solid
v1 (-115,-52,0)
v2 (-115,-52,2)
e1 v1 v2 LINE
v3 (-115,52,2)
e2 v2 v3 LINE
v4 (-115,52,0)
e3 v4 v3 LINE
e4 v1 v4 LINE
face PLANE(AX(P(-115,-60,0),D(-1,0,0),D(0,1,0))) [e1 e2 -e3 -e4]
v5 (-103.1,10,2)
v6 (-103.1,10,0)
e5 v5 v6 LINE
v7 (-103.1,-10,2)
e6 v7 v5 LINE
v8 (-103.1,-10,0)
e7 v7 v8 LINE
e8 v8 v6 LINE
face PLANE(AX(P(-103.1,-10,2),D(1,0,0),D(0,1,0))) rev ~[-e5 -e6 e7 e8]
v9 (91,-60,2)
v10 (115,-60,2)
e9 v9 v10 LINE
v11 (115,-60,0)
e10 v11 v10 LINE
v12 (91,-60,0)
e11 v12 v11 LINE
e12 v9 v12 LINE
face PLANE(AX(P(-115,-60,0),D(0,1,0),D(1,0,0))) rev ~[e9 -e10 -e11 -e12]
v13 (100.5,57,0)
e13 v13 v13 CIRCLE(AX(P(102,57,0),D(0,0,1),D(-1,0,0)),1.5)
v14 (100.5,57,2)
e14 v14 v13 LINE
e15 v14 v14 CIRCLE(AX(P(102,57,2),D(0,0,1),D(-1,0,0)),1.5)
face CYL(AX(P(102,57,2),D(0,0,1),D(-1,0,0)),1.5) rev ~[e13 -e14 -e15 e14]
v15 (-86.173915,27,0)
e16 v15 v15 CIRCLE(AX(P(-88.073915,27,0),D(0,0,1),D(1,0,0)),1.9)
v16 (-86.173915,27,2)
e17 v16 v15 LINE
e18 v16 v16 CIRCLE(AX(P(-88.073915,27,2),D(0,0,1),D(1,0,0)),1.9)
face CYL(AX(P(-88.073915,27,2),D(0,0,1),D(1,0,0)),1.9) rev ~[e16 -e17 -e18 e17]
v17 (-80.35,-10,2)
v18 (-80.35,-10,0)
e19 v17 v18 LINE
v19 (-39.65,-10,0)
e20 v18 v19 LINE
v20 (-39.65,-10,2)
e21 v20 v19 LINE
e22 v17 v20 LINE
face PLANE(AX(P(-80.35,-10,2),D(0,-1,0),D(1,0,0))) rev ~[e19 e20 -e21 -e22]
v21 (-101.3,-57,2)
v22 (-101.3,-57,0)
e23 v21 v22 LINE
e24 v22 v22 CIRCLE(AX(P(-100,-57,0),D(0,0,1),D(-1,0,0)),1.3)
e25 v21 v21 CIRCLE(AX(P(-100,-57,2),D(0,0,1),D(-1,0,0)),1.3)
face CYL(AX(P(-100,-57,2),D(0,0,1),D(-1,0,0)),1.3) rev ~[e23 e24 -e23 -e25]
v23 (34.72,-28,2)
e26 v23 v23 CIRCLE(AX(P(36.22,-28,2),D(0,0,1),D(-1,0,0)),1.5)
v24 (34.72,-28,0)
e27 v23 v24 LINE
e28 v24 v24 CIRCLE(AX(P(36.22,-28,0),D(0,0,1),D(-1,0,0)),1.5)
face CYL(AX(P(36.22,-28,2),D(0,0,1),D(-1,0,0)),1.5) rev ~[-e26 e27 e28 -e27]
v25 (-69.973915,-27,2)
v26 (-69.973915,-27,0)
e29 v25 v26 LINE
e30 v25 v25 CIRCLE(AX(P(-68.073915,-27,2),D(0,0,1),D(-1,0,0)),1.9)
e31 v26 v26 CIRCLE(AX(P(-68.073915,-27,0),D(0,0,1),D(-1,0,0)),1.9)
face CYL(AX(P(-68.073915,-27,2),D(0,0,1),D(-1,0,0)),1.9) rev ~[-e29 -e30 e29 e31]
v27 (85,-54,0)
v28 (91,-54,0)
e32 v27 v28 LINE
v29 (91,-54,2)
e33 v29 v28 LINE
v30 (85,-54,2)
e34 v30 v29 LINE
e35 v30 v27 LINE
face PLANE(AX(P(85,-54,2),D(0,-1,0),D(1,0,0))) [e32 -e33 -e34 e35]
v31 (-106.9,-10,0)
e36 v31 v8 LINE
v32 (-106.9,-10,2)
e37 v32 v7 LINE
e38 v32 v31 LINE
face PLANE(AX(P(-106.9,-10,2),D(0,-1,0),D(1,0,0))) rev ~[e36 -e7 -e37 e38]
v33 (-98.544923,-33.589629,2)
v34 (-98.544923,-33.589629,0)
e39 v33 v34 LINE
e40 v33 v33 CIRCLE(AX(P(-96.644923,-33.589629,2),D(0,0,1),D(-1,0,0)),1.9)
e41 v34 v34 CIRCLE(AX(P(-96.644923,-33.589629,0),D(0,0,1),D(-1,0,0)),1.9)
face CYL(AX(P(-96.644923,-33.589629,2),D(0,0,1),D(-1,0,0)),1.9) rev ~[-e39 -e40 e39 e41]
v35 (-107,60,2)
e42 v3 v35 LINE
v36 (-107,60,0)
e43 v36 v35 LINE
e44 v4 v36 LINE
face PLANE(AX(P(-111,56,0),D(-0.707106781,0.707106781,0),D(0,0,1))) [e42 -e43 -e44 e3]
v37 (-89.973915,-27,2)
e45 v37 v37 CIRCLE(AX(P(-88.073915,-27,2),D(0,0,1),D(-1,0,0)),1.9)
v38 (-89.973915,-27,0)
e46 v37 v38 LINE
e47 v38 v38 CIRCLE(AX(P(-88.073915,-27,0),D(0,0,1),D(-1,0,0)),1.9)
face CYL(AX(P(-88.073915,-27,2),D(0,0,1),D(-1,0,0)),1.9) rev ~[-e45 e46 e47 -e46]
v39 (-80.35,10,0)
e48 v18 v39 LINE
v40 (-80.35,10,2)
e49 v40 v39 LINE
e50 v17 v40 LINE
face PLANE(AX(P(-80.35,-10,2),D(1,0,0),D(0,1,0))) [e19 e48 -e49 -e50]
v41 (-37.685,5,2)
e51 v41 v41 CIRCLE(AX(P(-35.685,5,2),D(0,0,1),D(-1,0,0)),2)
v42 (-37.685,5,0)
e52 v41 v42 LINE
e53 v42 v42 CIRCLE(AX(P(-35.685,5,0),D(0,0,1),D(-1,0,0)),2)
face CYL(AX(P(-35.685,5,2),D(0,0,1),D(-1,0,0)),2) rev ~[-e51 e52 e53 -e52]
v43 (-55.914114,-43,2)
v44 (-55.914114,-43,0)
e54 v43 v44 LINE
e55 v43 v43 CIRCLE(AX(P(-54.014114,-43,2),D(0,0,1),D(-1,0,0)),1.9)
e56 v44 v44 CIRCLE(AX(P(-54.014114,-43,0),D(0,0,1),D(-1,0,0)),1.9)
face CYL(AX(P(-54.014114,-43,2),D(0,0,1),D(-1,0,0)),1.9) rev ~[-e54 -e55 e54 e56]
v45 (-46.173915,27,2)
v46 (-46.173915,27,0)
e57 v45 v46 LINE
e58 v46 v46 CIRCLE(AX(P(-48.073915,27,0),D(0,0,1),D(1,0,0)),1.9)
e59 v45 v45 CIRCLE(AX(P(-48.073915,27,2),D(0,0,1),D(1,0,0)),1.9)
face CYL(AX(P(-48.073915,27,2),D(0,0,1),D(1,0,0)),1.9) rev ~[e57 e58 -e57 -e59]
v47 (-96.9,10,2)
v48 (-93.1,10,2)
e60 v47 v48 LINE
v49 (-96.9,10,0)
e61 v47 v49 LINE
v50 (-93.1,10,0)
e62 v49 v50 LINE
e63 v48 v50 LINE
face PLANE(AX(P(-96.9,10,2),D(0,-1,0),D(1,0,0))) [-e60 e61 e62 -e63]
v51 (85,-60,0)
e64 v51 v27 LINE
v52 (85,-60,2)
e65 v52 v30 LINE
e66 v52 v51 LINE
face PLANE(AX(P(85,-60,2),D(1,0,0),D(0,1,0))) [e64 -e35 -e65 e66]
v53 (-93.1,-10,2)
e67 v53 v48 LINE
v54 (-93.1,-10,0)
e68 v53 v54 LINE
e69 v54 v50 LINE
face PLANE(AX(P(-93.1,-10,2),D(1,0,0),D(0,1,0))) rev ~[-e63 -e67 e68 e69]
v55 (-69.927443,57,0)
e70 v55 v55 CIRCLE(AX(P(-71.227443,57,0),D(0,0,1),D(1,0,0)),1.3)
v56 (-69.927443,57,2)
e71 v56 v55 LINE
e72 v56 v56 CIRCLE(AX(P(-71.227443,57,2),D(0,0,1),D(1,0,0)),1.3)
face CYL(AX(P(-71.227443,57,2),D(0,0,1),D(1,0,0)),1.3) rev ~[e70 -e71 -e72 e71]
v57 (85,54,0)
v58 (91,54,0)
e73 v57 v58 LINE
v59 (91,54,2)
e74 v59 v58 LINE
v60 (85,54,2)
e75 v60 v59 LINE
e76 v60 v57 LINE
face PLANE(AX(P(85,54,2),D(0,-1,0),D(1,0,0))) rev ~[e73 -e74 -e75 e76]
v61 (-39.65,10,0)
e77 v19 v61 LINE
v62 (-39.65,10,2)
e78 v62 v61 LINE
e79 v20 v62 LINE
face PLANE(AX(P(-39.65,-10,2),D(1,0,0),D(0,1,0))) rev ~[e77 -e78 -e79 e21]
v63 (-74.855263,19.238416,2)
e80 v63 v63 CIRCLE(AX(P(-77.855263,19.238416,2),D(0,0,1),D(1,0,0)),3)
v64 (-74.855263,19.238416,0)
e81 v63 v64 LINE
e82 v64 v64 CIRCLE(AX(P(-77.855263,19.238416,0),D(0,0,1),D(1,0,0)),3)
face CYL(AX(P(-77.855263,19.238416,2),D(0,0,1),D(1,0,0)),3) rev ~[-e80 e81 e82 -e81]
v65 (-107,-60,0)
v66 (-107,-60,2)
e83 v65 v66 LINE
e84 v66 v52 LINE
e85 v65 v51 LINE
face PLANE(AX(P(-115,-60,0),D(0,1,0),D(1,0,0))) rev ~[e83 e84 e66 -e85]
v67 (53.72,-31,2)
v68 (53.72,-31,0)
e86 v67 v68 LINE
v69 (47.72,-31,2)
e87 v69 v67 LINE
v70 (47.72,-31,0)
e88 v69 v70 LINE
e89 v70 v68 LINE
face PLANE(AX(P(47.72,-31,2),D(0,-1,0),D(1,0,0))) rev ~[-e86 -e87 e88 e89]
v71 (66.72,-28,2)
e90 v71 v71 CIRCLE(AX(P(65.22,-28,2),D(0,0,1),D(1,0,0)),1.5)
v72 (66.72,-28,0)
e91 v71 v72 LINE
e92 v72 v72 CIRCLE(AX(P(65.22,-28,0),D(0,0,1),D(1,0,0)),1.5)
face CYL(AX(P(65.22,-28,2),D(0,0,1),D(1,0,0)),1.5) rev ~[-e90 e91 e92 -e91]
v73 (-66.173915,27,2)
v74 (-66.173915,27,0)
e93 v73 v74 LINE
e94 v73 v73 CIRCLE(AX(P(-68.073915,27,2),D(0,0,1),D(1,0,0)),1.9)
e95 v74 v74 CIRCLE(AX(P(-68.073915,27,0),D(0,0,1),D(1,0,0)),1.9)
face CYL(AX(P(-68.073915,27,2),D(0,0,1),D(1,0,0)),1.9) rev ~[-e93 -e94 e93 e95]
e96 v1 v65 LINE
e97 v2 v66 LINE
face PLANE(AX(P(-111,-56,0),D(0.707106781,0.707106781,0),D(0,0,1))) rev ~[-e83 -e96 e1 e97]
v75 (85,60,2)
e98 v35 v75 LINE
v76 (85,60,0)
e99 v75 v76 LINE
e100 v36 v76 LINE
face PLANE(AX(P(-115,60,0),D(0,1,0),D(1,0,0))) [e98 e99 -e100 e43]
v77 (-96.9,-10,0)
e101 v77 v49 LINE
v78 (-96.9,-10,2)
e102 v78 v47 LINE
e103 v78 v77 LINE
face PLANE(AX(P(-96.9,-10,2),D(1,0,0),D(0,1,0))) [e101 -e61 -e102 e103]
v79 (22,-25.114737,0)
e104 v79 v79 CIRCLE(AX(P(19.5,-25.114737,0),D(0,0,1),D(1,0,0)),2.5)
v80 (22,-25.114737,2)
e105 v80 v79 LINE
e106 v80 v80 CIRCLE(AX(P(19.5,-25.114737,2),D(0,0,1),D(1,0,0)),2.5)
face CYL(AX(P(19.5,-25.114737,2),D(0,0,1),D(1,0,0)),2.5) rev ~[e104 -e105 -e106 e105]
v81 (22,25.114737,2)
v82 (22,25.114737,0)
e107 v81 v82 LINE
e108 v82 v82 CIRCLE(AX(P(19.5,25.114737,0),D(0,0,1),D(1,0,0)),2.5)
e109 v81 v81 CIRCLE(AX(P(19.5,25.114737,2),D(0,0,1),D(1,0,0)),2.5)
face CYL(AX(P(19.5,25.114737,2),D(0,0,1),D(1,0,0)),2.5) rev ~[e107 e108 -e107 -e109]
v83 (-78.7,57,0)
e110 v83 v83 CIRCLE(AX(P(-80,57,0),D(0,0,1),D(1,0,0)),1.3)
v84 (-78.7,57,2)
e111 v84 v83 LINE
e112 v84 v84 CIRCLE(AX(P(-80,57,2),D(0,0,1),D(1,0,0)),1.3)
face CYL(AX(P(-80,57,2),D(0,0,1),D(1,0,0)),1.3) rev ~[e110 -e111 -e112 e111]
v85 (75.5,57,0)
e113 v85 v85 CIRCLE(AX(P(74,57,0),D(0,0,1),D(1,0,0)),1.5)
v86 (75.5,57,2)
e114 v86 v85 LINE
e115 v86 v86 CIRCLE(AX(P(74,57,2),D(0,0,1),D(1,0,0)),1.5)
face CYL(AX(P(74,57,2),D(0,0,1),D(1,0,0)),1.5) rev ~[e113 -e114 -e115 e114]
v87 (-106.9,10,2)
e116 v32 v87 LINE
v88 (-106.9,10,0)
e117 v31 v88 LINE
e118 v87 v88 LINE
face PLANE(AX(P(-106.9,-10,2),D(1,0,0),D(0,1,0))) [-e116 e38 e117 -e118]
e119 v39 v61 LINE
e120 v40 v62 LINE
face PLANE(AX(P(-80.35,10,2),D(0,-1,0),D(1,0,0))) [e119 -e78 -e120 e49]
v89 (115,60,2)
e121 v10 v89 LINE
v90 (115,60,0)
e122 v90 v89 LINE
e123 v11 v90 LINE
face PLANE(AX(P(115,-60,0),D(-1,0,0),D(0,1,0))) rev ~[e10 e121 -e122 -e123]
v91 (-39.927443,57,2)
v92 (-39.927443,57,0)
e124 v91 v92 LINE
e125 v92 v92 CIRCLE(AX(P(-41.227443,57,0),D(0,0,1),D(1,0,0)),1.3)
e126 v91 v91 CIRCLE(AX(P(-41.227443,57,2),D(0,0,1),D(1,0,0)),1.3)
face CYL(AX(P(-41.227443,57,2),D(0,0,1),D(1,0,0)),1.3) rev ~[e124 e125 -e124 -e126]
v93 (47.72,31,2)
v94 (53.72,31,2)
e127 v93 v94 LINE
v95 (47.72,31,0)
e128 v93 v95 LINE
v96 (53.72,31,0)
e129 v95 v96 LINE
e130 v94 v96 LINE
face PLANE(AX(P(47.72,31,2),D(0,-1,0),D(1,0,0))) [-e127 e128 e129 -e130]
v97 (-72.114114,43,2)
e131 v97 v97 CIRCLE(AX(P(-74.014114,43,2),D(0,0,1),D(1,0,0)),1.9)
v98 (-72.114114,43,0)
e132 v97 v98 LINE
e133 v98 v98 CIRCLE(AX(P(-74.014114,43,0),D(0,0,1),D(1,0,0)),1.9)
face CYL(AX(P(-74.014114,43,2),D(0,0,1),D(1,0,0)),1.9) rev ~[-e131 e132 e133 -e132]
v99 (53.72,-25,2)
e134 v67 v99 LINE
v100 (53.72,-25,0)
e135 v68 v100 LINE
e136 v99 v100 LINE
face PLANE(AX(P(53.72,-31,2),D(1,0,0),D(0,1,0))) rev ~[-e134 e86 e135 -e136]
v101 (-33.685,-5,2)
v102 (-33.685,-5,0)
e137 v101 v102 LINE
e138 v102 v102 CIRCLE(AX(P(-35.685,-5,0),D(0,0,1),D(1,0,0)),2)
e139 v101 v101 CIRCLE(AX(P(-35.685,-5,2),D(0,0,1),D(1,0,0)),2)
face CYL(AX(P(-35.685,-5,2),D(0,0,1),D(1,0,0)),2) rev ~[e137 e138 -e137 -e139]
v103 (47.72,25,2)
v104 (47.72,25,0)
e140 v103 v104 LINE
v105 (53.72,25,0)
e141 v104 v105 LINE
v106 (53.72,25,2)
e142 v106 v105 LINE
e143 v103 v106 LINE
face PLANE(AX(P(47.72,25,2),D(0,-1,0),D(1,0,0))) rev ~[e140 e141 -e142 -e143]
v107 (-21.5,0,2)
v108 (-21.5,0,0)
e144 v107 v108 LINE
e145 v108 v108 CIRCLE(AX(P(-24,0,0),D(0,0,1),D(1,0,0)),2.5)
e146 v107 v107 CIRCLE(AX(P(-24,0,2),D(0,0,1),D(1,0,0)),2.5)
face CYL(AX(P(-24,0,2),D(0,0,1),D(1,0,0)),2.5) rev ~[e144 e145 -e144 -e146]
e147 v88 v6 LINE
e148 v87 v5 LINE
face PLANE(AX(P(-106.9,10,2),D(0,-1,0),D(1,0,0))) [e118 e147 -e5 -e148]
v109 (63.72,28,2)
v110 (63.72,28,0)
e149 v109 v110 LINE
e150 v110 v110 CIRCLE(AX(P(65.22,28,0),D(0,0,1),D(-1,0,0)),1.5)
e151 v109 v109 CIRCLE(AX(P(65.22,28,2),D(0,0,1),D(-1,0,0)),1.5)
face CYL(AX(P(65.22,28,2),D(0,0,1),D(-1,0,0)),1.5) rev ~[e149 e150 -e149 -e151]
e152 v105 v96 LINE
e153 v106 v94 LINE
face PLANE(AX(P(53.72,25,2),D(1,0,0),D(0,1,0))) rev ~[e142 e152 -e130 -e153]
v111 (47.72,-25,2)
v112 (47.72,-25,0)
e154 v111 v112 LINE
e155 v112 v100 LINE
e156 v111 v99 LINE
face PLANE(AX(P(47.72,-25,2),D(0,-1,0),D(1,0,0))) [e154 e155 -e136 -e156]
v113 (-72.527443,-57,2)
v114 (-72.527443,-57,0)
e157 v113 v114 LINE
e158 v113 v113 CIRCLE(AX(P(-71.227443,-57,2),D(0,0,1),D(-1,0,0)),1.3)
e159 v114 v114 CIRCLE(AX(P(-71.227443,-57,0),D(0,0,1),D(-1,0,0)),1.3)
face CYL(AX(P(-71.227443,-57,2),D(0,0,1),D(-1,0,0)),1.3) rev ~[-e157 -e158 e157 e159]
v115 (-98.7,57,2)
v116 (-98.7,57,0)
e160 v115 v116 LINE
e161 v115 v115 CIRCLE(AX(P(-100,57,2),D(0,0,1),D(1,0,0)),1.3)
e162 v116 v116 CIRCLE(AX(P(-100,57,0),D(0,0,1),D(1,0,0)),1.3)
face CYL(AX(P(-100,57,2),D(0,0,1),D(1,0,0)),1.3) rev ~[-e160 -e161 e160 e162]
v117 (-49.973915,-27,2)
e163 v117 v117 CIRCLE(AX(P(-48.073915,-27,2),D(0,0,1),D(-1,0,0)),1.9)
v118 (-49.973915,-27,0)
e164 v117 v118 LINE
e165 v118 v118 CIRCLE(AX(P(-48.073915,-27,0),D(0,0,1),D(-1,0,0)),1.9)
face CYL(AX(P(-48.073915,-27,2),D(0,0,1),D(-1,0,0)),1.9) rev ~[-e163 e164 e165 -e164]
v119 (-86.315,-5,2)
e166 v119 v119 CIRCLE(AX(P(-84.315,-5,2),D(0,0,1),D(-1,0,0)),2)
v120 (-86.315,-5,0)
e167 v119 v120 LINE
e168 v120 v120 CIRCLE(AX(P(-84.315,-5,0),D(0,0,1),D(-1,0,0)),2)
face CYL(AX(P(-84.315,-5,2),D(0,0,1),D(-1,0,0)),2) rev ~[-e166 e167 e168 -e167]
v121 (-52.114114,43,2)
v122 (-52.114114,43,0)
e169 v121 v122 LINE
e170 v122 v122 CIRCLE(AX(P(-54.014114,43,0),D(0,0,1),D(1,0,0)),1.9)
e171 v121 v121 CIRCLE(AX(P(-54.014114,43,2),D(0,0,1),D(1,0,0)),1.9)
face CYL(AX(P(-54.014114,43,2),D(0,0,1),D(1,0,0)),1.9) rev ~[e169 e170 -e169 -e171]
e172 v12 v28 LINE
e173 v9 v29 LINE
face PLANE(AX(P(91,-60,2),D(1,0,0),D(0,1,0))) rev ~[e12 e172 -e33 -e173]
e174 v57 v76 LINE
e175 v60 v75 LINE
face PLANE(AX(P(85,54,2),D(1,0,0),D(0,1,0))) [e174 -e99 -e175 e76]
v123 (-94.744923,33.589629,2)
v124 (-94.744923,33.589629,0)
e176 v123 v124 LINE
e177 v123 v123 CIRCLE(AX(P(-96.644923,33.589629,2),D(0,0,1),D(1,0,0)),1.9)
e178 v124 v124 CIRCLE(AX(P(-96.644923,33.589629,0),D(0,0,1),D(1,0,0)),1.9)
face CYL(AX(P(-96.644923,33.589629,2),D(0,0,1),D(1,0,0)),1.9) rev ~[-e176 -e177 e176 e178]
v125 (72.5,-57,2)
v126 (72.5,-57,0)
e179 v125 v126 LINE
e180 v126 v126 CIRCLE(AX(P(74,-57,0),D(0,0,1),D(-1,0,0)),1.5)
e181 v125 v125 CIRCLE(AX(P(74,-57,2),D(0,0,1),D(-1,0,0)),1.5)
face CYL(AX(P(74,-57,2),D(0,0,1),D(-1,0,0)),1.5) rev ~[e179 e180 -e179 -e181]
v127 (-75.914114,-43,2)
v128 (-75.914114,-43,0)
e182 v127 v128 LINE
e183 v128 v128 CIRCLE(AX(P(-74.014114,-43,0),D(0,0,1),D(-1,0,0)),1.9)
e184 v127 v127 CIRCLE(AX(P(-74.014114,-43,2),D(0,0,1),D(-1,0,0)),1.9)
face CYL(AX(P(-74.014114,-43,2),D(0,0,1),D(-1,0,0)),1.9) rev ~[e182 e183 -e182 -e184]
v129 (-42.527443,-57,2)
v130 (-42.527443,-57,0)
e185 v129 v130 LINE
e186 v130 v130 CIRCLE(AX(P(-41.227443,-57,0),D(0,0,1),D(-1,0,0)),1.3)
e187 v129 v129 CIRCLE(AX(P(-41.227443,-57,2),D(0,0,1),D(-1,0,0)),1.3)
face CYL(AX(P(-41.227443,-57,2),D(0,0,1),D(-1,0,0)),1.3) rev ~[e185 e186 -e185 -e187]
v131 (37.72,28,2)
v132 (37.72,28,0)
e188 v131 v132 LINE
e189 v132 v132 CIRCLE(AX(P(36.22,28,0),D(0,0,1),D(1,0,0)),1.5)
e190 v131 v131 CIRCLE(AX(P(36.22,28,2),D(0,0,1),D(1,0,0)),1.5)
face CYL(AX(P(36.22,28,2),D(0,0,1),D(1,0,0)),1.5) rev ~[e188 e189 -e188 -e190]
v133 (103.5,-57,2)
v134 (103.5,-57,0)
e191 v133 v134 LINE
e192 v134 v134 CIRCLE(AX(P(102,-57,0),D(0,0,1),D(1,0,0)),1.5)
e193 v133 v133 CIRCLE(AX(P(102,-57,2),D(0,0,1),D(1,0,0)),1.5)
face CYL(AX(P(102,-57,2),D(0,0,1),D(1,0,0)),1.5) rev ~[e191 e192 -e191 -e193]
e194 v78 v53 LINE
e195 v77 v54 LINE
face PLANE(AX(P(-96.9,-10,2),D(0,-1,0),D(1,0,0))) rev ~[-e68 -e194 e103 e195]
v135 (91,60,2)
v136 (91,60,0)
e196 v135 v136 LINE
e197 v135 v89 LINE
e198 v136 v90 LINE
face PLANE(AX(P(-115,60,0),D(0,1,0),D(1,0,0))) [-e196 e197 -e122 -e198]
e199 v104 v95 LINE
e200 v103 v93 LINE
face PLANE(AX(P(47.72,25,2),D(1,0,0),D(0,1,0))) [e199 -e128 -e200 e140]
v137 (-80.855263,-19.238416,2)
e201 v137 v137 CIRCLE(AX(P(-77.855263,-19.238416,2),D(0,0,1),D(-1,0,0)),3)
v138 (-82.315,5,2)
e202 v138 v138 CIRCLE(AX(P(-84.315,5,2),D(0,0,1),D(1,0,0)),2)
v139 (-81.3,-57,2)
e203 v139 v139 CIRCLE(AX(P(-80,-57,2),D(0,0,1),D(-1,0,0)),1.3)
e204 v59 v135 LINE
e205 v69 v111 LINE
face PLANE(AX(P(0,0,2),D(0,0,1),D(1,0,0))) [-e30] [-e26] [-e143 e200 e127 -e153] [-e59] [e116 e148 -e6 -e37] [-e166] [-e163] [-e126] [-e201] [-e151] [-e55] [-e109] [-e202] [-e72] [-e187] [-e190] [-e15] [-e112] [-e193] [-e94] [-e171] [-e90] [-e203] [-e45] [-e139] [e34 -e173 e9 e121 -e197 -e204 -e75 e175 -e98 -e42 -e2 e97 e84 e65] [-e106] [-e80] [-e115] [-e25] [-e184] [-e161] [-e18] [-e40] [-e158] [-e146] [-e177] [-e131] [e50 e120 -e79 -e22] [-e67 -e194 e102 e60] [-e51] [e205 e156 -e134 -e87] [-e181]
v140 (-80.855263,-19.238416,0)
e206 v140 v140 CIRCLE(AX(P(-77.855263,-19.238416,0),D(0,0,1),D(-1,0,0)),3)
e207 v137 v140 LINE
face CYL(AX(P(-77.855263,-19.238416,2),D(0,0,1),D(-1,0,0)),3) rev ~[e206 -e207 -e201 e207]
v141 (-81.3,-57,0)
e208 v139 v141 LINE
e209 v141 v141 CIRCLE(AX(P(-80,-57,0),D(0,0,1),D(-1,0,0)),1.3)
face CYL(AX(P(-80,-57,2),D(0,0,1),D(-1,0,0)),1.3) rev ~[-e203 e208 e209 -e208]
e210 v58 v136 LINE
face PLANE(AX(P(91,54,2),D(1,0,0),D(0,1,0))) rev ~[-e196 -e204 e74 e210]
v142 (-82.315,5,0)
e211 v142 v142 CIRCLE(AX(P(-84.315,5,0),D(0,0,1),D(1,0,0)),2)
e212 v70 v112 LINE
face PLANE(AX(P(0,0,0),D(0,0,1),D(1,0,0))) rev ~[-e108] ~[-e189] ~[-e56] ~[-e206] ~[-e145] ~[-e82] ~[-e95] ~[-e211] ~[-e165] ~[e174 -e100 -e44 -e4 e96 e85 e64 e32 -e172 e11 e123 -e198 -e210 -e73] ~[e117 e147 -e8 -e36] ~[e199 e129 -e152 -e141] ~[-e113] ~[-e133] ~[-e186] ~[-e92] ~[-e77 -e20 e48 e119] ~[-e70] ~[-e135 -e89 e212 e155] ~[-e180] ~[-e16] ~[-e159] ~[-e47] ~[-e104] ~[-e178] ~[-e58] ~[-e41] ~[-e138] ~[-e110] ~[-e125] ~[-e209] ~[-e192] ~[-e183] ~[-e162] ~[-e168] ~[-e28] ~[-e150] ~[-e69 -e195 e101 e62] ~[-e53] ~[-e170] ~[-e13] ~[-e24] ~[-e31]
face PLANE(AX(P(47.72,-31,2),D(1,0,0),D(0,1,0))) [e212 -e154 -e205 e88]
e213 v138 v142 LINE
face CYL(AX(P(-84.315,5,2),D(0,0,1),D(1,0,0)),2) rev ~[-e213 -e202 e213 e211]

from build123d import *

# Parameters (mm, degrees)
SKETCH_5_W           = 230
SKETCH_5_H           = 120
EXTRUDE_2_DEPTH      = 2
SKETCH_6_R           = 2.5
CUT_EXTRUDE_3_DEPTH  = 130.726635661
SKETCH_7_R           = 1.5
SKETCH_7_W           = 6
SKETCH_7_H           = 6
CUT_EXTRUDE_4_DEPTH  = 130.726635661
SKETCH_8_R           = 1.5
SKETCH_8_W           = 6
SKETCH_8_H           = 6
CUT_EXTRUDE_5_DEPTH  = 130.726635661
SKETCH_9_R           = 2
SKETCH_9_W           = 40.7
SKETCH_9_H           = 20
CUT_EXTRUDE_6_DEPTH  = 130.726635661
SKETCH_10_R          = 1.3
CUT_EXTRUDE_7_DEPTH  = 130.726635661
SKETCH_11_R          = 1.3
CUT_EXTRUDE_8_DEPTH  = 130.726635661
SKETCH_12_R          = 1.9
CUT_EXTRUDE_9_DEPTH  = 130.726635661
SKETCH_13_W          = 3.8
SKETCH_13_H          = 20
CUT_EXTRUDE_10_DEPTH = 130.726635661
SKETCH_14_R          = 1.9
CUT_EXTRUDE_11_DEPTH = 130.726635661
SKETCH_17_R          = 3
CUT_EXTRUDE_12_DEPTH = 130.726635661
CHAMFER_1_SIZE       = 8


with BuildPart() as part:
    # 草图5 → 凸台-拉伸2 (new body)
    with BuildSketch(Plane.XY):
        Rectangle(SKETCH_5_W, SKETCH_5_H)
    extrude(amount=EXTRUDE_2_DEPTH)

    # 草图6 → 切除-拉伸3 (cut, through all)
    with BuildSketch(Plane.XY.offset(2)):
        with Locations((-24, 0)):
            Circle(SKETCH_6_R)
        with Locations((19.5, 25.11473671)):
            Circle(SKETCH_6_R)
        with Locations((19.5, -25.11473671)):
            Circle(SKETCH_6_R)
    extrude(amount=-CUT_EXTRUDE_3_DEPTH, mode=Mode.SUBTRACT)

    # 草图7 → 切除-拉伸4 (cut, through all)
    with BuildSketch(Plane.XY.offset(2)):
        with Locations((74, 57)):
            Circle(SKETCH_7_R)
        with Locations(Location((102, 57, 0), (0, 0, 180))):
            Circle(SKETCH_7_R)
        with Locations((102, -57)):
            Circle(SKETCH_7_R)
        with Locations(Location((74, -57, 0), (0, 0, 180))):
            Circle(SKETCH_7_R)
        with Locations((88, 57)):
            Rectangle(SKETCH_7_W, SKETCH_7_H)
        with Locations((88, -57)):
            Rectangle(SKETCH_7_W, SKETCH_7_H)
    extrude(amount=-CUT_EXTRUDE_4_DEPTH, mode=Mode.SUBTRACT)

    # 草图8 → 切除-拉伸5 (cut, through all)
    with BuildSketch(Plane.XY.offset(2)):
        with Locations((36.22, 28)):
            Circle(SKETCH_8_R)
        with Locations(Location((65.22, 28, 0), (0, 0, 180))):
            Circle(SKETCH_8_R)
        with Locations((65.22, -28)):
            Circle(SKETCH_8_R)
        with Locations(Location((36.22, -28, 0), (0, 0, 180))):
            Circle(SKETCH_8_R)
        with Locations((50.72, 28)):
            Rectangle(SKETCH_8_W, SKETCH_8_H)
        with Locations((50.72, -28)):
            Rectangle(SKETCH_8_W, SKETCH_8_H)
    extrude(amount=-CUT_EXTRUDE_5_DEPTH, mode=Mode.SUBTRACT)

    # 草图9 → 切除-拉伸6 (cut, through all)
    with BuildSketch(Plane.XY.offset(2)):
        with Locations((-84.315, 5)):
            Circle(SKETCH_9_R)
        with Locations(Location((-84.315, -5, 0), (0, 0, 180))):
            Circle(SKETCH_9_R)
        with Locations((-35.685, -5)):
            Circle(SKETCH_9_R)
        with Locations(Location((-35.685, 5, 0), (0, 0, 180))):
            Circle(SKETCH_9_R)
        with Locations((-60, 0)):
            Rectangle(SKETCH_9_W, SKETCH_9_H)
    extrude(amount=-CUT_EXTRUDE_6_DEPTH, mode=Mode.SUBTRACT)

    # 草图10 → 切除-拉伸7 (cut, through all)
    with BuildSketch(Plane.XY.offset(2)):
        with Locations((-41.227442559, 57)):
            Circle(SKETCH_10_R)
        with Locations(Location((-41.227442559, -57, 0), (0, 0, 180))):
            Circle(SKETCH_10_R)
        with Locations((-71.227442559, 57)):
            Circle(SKETCH_10_R)
        with Locations(Location((-71.227442559, -57, 0), (0, 0, 180))):
            Circle(SKETCH_10_R)
    extrude(amount=-CUT_EXTRUDE_7_DEPTH, mode=Mode.SUBTRACT)

    # 草图11 → 切除-拉伸8 (cut, through all)
    with BuildSketch(Plane.XY.offset(2)):
        with Locations((-100, 57)):
            Circle(SKETCH_11_R)
        with Locations((-80, 57)):
            Circle(SKETCH_11_R)
        with Locations(Location((-80, -57, 0), (0, 0, 180))):
            Circle(SKETCH_11_R)
        with Locations(Location((-100, -57, 0), (0, 0, 180))):
            Circle(SKETCH_11_R)
    extrude(amount=-CUT_EXTRUDE_8_DEPTH, mode=Mode.SUBTRACT)

    # 草图12 → 切除-拉伸9 (cut, through all)
    with BuildSketch(Plane.XY.offset(2)):
        with Locations((-48.073915411, 27)):
            Circle(SKETCH_12_R)
        with Locations(Location((-54.014113812, -43, 0), (0, 0, 180))):
            Circle(SKETCH_12_R)
        with Locations((-68.073915411, 27)):
            Circle(SKETCH_12_R)
        with Locations((-74.014113812, 43)):
            Circle(SKETCH_12_R)
        with Locations((-88.073915411, 27)):
            Circle(SKETCH_12_R)
        with Locations((-54.014113812, 43)):
            Circle(SKETCH_12_R)
        with Locations(Location((-88.073915411, -27, 0), (0, 0, 180))):
            Circle(SKETCH_12_R)
        with Locations(Location((-74.014113812, -43, 0), (0, 0, 180))):
            Circle(SKETCH_12_R)
        with Locations(Location((-68.073915411, -27, 0), (0, 0, 180))):
            Circle(SKETCH_12_R)
        with Locations(Location((-48.073915411, -27, 0), (0, 0, 180))):
            Circle(SKETCH_12_R)
    extrude(amount=-CUT_EXTRUDE_9_DEPTH, mode=Mode.SUBTRACT)

    # 草图13 → 切除-拉伸10 (cut, through all)
    with BuildSketch(Plane.XY.offset(2)):
        with Locations((-95, 0)):
            Rectangle(SKETCH_13_W, SKETCH_13_H)
        with Locations((-105, 0)):
            Rectangle(SKETCH_13_W, SKETCH_13_H)
    extrude(amount=-CUT_EXTRUDE_10_DEPTH, mode=Mode.SUBTRACT)

    # 草图14 → 切除-拉伸11 (cut, through all)
    with BuildSketch(Plane.XY.offset(2)):
        with Locations((-96.644922827, 33.589628644)):
            Circle(SKETCH_14_R)
        with Locations(Location((-96.644922827, -33.589628644, 0), (0, 0, 180))):
            Circle(SKETCH_14_R)
    extrude(amount=-CUT_EXTRUDE_11_DEPTH, mode=Mode.SUBTRACT)

    # 草图17 → 切除-拉伸12 (cut, through all)
    with BuildSketch(Plane.XY.offset(2)):
        with Locations((-77.855262933, 19.238416103)):
            Circle(SKETCH_17_R)
        with Locations(Location((-77.855262933, -19.238416103, 0), (0, 0, 180))):
            Circle(SKETCH_17_R)
    extrude(amount=-CUT_EXTRUDE_12_DEPTH, mode=Mode.SUBTRACT)

    # 倒角1
    chamfer_1_edges = [part.edges().sort_by_distance(p)[0] for p in [
        (-115, -60, 1),
        (-115, 60, 1),
    ]]
    chamfer(chamfer_1_edges, length=CHAMFER_1_SIZE)


solid = part.part
